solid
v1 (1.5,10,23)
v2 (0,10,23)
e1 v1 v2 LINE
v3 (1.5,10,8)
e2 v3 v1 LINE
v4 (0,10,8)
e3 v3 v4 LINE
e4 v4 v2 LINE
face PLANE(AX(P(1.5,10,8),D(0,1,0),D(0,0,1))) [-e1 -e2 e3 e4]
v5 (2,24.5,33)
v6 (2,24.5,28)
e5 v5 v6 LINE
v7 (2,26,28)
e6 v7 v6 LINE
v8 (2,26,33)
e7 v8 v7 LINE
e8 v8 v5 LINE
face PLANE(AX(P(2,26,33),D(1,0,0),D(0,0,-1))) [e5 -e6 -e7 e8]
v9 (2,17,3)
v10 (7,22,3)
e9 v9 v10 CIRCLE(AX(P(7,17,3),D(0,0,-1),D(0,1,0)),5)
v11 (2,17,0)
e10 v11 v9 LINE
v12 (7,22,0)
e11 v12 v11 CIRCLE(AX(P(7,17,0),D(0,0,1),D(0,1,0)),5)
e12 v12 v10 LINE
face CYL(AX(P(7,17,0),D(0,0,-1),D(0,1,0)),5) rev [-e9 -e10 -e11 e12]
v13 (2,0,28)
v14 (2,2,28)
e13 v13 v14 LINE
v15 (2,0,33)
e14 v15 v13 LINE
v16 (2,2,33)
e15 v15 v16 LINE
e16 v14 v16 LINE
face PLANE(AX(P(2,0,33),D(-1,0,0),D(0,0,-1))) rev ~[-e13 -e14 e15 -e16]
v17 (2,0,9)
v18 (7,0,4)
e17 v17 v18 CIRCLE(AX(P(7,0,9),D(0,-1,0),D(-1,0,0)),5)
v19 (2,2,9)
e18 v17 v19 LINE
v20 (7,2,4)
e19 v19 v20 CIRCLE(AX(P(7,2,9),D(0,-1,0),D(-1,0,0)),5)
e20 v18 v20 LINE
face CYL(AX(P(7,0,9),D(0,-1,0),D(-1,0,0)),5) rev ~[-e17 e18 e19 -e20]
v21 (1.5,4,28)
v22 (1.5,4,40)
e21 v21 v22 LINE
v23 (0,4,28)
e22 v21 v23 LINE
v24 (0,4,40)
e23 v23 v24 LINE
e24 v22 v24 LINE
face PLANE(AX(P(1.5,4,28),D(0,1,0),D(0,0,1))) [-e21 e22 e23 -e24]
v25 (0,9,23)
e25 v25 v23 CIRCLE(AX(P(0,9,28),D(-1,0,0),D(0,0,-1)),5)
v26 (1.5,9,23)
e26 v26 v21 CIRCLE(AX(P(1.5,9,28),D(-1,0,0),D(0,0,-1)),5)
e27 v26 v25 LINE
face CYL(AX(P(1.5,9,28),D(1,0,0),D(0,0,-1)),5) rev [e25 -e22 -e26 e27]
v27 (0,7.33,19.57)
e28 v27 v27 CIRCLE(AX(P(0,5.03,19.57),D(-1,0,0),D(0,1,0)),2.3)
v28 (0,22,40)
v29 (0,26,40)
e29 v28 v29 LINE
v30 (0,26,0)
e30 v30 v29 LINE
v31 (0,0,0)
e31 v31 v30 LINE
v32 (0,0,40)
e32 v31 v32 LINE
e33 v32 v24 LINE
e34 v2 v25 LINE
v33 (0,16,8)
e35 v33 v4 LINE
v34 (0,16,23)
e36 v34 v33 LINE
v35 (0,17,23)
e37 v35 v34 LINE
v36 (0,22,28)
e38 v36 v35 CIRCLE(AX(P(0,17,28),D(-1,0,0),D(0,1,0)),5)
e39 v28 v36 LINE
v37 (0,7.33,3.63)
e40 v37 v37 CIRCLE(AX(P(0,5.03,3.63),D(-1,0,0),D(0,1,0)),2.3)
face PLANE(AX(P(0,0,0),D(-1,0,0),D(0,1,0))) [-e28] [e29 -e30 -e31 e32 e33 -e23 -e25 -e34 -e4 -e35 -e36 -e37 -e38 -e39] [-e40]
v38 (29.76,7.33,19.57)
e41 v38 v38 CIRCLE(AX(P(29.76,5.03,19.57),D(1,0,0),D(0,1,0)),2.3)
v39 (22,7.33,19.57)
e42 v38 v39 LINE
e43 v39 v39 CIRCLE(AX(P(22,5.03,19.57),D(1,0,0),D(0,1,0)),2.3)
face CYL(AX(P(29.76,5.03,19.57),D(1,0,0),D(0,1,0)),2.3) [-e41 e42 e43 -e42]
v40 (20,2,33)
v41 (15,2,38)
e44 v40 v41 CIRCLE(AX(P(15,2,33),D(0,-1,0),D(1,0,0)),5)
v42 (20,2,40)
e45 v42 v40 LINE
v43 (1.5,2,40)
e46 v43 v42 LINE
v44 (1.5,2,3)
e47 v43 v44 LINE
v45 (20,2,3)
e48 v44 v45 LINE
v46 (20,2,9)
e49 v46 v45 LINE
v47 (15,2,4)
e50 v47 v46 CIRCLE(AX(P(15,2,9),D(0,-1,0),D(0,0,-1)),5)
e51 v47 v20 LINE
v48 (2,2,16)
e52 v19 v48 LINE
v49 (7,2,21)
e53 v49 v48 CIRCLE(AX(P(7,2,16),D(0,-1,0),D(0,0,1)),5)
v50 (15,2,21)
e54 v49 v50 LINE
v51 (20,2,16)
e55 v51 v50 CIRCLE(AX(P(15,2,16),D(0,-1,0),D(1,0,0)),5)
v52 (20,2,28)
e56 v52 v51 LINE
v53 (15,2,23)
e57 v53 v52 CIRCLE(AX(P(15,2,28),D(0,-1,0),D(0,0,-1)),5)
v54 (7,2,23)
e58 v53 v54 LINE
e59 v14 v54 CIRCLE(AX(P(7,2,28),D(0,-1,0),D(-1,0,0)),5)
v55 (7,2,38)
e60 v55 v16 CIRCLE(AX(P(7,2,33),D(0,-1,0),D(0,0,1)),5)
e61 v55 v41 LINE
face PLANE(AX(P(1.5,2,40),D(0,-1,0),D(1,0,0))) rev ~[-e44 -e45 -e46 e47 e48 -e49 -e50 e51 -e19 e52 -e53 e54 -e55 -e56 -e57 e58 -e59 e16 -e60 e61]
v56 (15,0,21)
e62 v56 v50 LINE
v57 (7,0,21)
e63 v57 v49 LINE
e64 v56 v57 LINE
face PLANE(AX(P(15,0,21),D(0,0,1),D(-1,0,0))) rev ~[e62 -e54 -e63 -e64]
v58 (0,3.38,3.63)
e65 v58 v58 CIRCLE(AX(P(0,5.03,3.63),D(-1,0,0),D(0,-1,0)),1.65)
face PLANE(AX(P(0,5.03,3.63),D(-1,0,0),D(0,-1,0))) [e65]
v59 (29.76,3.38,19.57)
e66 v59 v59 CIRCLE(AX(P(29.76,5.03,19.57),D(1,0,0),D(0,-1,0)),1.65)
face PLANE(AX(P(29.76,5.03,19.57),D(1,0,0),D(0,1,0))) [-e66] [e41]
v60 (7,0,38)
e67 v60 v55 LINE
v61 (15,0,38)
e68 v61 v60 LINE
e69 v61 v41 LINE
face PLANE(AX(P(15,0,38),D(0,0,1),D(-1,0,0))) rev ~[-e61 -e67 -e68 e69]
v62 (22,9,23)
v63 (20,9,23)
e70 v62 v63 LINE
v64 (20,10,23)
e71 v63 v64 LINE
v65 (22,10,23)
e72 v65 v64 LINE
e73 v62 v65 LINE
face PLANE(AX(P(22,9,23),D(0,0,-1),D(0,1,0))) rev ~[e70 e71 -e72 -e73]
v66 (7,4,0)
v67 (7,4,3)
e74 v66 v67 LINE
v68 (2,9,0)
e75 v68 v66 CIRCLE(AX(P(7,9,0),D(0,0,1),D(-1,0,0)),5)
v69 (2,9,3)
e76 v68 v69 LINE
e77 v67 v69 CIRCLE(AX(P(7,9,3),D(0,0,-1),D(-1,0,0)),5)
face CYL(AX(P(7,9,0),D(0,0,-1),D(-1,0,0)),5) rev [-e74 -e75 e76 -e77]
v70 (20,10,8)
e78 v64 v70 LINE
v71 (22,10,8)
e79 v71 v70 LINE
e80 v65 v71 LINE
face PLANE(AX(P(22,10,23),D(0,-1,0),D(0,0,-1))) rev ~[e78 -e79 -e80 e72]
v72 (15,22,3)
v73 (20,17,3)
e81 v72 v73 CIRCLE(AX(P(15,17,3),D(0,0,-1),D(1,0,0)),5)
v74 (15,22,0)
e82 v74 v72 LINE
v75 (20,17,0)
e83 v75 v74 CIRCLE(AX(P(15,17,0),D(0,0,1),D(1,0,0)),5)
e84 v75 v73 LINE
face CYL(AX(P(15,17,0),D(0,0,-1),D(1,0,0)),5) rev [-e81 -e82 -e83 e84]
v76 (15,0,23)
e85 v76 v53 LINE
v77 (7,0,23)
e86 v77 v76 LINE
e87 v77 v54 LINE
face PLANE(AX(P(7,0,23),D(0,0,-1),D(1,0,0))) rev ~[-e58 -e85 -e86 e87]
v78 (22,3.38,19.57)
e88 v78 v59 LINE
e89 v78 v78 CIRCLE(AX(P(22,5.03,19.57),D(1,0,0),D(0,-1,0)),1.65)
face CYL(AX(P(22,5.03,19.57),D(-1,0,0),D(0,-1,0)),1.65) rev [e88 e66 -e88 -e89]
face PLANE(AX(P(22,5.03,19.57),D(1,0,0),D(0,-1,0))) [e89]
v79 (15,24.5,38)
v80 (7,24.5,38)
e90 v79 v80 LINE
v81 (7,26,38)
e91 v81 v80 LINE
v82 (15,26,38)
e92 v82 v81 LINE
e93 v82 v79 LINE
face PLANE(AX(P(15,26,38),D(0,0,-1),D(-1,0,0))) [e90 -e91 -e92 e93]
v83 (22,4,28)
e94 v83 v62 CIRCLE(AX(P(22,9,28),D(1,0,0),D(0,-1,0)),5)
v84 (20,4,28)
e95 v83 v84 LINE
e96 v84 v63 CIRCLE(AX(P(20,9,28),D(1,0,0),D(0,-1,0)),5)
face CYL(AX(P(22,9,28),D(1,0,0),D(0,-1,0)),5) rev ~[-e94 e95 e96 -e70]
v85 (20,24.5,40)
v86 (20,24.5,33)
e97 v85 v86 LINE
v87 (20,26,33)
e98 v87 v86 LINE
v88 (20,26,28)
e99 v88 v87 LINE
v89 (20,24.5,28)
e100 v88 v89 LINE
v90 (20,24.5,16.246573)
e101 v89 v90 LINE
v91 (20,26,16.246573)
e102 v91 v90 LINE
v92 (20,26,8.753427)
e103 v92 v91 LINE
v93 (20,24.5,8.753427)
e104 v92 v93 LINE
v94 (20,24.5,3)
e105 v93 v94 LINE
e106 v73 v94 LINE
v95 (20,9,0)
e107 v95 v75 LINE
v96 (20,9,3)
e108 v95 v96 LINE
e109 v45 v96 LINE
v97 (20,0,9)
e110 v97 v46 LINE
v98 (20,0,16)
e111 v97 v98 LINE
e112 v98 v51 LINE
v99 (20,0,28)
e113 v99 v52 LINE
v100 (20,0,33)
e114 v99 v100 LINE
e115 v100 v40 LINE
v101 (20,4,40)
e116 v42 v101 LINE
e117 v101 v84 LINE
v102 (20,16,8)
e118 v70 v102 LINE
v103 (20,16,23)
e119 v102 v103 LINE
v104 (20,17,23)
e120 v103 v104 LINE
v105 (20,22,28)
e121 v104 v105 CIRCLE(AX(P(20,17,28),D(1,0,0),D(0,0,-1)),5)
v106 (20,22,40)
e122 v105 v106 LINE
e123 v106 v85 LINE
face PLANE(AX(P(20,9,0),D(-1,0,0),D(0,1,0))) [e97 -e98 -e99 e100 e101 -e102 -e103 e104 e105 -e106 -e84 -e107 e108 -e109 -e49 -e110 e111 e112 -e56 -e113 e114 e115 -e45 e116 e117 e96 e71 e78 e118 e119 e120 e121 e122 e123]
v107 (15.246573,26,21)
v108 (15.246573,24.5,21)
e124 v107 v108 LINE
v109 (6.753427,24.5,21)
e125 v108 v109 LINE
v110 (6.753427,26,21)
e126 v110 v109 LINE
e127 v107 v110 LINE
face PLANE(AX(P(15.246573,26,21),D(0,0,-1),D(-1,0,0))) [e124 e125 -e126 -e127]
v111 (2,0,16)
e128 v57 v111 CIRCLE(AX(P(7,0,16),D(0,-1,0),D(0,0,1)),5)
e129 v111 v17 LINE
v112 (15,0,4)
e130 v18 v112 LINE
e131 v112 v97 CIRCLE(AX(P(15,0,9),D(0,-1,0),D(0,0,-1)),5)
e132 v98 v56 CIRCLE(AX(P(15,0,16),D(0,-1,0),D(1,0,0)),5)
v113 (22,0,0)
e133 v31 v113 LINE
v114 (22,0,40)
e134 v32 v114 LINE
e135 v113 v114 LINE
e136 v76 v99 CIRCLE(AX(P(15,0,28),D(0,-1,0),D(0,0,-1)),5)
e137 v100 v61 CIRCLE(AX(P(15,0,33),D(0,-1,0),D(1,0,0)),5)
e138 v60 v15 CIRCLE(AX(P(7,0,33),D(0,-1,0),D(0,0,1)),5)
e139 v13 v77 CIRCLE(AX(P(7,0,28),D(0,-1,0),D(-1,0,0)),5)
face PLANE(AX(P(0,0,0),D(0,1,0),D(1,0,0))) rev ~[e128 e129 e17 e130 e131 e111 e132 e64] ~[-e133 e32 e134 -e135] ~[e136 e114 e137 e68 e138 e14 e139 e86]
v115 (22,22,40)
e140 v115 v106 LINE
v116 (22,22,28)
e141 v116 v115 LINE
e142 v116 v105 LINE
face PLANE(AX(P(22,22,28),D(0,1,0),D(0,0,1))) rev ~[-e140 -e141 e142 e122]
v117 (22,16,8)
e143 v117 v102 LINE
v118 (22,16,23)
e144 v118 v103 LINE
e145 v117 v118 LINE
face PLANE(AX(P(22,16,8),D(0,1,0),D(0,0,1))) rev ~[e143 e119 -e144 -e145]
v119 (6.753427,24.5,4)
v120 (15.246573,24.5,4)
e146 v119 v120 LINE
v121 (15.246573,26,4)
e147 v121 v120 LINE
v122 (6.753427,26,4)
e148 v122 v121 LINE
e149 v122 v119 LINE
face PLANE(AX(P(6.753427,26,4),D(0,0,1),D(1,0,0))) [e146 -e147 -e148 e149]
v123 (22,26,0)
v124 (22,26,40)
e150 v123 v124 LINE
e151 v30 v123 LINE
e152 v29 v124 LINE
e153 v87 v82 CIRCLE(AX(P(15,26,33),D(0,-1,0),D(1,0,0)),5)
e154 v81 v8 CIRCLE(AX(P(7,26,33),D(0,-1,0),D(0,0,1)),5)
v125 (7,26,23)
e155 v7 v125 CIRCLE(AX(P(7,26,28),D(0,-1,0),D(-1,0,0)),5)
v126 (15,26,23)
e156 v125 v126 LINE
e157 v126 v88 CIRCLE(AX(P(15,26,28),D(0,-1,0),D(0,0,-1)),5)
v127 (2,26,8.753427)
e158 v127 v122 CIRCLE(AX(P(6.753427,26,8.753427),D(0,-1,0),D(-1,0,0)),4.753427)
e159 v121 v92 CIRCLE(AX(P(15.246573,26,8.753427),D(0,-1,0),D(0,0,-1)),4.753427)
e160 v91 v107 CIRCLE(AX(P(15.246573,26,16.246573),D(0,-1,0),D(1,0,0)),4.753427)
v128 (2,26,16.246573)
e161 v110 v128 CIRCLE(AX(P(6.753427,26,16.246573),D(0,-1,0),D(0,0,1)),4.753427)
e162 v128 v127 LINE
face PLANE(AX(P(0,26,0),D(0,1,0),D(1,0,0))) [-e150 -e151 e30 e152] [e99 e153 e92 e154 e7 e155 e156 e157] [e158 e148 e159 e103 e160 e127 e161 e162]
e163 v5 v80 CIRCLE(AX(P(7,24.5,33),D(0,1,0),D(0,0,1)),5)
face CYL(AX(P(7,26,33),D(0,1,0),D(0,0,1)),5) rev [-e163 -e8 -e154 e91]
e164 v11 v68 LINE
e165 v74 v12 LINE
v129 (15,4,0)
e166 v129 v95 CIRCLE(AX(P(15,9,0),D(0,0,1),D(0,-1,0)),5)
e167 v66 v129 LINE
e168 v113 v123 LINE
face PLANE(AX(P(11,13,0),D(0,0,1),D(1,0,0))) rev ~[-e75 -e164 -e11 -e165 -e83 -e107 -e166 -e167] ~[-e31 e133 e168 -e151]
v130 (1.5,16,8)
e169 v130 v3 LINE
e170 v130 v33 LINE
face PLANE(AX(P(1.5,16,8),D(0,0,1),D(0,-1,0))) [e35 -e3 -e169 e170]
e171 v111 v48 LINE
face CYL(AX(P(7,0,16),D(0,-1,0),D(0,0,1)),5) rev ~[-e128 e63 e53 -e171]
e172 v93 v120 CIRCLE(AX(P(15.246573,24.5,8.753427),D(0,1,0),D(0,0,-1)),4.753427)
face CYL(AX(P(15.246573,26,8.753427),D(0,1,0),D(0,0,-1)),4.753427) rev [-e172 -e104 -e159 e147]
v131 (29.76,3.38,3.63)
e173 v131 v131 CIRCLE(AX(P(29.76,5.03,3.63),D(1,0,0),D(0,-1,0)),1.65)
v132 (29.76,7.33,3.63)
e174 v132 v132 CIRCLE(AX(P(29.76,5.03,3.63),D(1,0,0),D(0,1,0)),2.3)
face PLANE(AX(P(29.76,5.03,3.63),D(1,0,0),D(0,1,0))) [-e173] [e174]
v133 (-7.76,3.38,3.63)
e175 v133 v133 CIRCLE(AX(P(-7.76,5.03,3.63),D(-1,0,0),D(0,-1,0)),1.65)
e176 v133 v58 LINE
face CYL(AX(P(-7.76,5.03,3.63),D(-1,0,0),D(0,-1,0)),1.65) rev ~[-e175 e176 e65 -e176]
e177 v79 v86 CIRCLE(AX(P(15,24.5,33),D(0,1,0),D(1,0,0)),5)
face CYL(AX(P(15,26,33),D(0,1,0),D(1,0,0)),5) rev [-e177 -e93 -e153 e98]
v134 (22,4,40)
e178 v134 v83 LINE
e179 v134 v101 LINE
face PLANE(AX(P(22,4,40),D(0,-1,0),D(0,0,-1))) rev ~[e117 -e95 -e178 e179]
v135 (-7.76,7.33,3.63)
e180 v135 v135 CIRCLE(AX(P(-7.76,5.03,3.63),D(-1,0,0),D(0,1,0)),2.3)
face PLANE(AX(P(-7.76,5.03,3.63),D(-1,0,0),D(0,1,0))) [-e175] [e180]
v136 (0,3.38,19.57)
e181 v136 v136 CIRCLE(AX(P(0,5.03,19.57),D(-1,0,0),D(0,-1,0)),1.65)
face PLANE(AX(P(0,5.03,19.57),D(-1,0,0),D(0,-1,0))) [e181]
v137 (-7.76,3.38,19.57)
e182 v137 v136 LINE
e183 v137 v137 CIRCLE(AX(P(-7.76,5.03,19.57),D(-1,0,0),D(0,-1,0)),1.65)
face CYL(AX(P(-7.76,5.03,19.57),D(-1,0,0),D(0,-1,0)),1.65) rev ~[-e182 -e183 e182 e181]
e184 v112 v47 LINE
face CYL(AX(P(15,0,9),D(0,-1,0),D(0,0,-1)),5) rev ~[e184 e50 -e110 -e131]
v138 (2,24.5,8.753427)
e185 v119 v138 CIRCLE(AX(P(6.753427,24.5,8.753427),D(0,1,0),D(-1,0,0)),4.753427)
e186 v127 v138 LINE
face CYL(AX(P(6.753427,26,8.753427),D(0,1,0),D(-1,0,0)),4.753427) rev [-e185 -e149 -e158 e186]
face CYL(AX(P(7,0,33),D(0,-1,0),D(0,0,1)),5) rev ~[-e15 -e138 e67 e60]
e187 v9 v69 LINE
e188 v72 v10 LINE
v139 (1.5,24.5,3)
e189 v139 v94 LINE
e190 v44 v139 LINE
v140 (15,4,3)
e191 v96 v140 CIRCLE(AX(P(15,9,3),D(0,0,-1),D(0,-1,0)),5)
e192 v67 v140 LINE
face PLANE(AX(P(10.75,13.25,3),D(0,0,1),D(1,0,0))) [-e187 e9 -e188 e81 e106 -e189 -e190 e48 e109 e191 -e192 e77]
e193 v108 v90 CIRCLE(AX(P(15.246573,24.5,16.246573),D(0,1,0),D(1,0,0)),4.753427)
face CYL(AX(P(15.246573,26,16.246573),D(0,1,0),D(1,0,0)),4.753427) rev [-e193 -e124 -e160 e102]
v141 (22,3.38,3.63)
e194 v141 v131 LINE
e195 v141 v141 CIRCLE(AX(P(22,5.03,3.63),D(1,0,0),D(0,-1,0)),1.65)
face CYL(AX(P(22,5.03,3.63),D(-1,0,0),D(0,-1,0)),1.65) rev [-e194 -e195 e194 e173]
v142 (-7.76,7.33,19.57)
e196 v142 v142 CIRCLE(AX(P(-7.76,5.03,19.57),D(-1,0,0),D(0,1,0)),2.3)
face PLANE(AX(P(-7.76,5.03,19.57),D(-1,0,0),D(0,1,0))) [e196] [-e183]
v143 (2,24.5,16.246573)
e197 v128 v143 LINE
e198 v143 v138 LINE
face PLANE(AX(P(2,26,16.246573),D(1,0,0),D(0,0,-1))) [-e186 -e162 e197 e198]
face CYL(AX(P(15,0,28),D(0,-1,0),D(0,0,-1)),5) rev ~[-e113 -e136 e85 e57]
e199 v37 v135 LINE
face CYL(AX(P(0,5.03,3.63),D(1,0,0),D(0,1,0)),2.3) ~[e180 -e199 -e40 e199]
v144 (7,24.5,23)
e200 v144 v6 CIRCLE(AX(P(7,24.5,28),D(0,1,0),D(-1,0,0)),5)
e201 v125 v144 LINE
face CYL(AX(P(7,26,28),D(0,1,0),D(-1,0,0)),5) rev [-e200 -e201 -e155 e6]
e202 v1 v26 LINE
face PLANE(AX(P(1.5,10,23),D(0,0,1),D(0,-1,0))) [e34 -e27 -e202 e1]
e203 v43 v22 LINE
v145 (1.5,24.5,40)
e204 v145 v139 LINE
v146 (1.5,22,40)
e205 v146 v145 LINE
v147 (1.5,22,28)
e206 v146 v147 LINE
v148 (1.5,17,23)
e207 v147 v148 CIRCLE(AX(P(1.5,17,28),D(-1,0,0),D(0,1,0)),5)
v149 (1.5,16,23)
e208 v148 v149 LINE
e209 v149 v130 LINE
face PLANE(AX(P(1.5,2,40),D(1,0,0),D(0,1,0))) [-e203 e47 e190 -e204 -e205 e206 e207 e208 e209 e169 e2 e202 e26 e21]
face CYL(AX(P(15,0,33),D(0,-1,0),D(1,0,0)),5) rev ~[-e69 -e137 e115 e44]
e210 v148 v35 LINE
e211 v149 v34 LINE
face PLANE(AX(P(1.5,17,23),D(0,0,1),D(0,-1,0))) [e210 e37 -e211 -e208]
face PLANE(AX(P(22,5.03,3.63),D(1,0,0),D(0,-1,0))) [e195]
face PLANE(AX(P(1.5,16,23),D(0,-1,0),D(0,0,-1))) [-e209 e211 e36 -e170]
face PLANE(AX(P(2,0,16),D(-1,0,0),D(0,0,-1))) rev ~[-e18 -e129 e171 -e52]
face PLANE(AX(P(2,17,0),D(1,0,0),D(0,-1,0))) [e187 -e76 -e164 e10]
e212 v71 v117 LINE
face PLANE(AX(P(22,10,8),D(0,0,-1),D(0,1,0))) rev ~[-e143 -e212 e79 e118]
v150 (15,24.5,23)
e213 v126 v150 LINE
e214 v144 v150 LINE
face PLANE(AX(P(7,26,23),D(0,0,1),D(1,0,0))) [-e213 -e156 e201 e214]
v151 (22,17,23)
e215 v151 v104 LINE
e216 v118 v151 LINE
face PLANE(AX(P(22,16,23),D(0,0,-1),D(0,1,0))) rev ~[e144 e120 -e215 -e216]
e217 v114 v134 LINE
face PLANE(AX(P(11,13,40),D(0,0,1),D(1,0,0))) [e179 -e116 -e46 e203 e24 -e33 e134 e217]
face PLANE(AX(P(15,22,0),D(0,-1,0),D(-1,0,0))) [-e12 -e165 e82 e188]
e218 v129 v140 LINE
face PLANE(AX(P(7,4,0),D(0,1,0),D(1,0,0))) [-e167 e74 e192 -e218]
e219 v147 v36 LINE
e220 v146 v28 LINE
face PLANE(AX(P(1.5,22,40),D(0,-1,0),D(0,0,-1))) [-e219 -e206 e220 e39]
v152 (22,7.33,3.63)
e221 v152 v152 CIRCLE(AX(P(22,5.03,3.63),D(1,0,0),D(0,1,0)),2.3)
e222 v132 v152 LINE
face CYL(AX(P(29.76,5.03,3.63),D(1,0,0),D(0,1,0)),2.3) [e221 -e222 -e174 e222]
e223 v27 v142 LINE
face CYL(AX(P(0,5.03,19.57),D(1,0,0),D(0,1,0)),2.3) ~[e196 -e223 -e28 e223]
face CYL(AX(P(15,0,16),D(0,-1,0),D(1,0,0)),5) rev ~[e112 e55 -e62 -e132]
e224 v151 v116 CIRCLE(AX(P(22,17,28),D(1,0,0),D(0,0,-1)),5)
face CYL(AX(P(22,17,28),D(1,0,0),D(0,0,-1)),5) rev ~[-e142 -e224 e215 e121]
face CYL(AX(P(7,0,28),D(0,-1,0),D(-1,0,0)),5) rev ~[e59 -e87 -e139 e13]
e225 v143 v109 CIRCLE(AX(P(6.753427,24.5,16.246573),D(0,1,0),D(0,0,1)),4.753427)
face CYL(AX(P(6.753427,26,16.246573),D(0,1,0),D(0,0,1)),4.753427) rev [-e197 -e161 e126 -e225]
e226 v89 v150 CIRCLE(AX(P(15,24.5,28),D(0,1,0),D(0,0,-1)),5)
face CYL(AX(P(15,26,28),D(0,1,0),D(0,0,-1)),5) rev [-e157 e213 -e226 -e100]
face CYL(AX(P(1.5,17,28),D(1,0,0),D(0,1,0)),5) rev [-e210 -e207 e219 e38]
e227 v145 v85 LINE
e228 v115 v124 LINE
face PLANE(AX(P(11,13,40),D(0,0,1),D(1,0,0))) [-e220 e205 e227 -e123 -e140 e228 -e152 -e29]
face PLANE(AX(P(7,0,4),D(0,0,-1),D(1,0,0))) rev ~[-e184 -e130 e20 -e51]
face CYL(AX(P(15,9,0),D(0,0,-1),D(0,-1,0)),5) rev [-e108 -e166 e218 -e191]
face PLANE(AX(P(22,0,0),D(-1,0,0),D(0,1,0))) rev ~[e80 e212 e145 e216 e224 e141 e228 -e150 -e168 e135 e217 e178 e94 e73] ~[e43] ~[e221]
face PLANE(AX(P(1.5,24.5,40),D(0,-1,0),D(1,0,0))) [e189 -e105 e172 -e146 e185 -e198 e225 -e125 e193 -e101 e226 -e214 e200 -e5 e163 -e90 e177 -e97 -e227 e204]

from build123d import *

# Parameters (mm, degrees)
SKETCH1_W           = 22
SKETCH1_H           = 26
BOSS_EXTRUDE1_DEPTH = 40
SKETCH2_W           = 18.5
SKETCH2_H           = 22.5
CUT_EXTRUDE1_DEPTH  = 37
CUT_EXTRUDE2_REACH  = 54.536
CUT_EXTRUDE3_DEPTH  = 2
CUT_EXTRUDE4_START  = -1.5
CUT_EXTRUDE4_DEPTH  = 1.5
CUT_EXTRUDE5_REACH  = 54.536
CUT_EXTRUDE6_REACH  = 54.536
SKETCH12_R          = 2.3
BOSS_EXTRUDE2_DEPTH = 7.76
SKETCH14_R          = 1.65
CUT_EXTRUDE9_DEPTH  = 7.76
SKETCH16_R          = 1.65
CUT_EXTRUDE11_DEPTH = 7.76
BOSS_EXTRUDE3_START = 7.76
SKETCH17_R          = 2.3
BOSS_EXTRUDE3_DEPTH = 7.76
CUT_EXTRUDE12_START = -7.76
SKETCH20_R          = 1.65
CUT_EXTRUDE12_DEPTH = 7.76


with BuildPart() as part:
    # Sketch1 → Boss-Extrude1 (new body)
    with BuildSketch(Plane.XY):
        with Locations((11, 13)):
            Rectangle(SKETCH1_W, SKETCH1_H)
    extrude(amount=BOSS_EXTRUDE1_DEPTH)

    # Sketch2 → Cut-Extrude1 (cut)
    with BuildSketch(Plane.XY.offset(40)):
        with Locations((10.75, 13.25)):
            Rectangle(SKETCH2_W, SKETCH2_H)
    extrude(amount=-CUT_EXTRUDE1_DEPTH, mode=Mode.SUBTRACT)

    # Sketch6 → Cut-Extrude2 (cut, up to next)
    with BuildSketch(Plane(origin=(0, 0, 0), x_dir=(-1, 0, 0), z_dir=(0, 0, -1)), mode=Mode.PRIVATE) as cut_extrude2_sk1:
        with BuildLine():
            Line((-15, 22), (-7, 22))
            ThreePointArc((-7, 22), (-3.464466094, 20.535533906), (-2, 17))
            Line((-2, 17), (-2, 9))
            ThreePointArc((-2, 9), (-3.464466094, 5.464466094), (-7, 4))
            Line((-7, 4), (-15, 4))
            ThreePointArc((-15, 4), (-18.535533906, 5.464466094), (-20, 9))
            Line((-20, 9), (-20, 17))
            ThreePointArc((-20, 17), (-18.535533906, 20.535533906), (-15, 22))
        make_face()
    cut_extrude2_tool1 = extrude(cut_extrude2_sk1.sketch, amount=-CUT_EXTRUDE2_REACH, mode=Mode.PRIVATE) & part.part
    add(cut_extrude2_tool1.solids().sort_by_distance((11, 13, 0))[0], mode=Mode.SUBTRACT)

    # Sketch7 → Cut-Extrude3 (cut)
    with BuildSketch(Plane(origin=(22, 0, 0), x_dir=(0, 0, -1), z_dir=(1, 0, 0))):
        with BuildLine():
            Line((-8, 16), (-23, 16))
            Line((-23, 16), (-23, 17))
            ThreePointArc((-23, 17), (-24.464466094, 20.535533906), (-28, 22))
            Line((-28, 22), (-40, 22))
            Line((-40, 22), (-40, 16))
            Line((-40, 16), (-40, 10))
            Line((-40, 10), (-40, 4))
            Line((-40, 4), (-28, 4))
            ThreePointArc((-28, 4), (-24.464466094, 5.464466094), (-23, 9))
            Line((-23, 9), (-23, 10))
            Line((-23, 10), (-8, 10))
            Line((-8, 10), (-8, 16))
        make_face()
    extrude(amount=-CUT_EXTRUDE3_DEPTH, mode=Mode.SUBTRACT)

    # Sketch8 → Cut-Extrude4 (cut)
    with BuildSketch(Plane.ZY.offset(CUT_EXTRUDE4_START)):
        with BuildLine():
            Line((23, 17), (23, 16))
            Line((23, 16), (8, 16))
            Line((8, 16), (8, 10))
            Line((8, 10), (23, 10))
            Line((23, 10), (23, 9))
            ThreePointArc((23, 9), (24.464466094, 5.464466094), (28, 4))
            Line((28, 4), (40, 4))
            Line((40, 4), (40, 22))
            Line((40, 22), (28, 22))
            ThreePointArc((28, 22), (24.464466094, 20.535533906), (23, 17))
        make_face()
    extrude(amount=CUT_EXTRUDE4_DEPTH, mode=Mode.SUBTRACT)

    # Sketch9 → Cut-Extrude5 (cut, up to next)
    with BuildSketch(Plane(origin=(0, 26, 0), x_dir=(1, 0, 0), z_dir=(0, 1, 0)), mode=Mode.PRIVATE) as cut_extrude5_sk1:
        with BuildLine():
            Line((7, -23), (15, -23))
            ThreePointArc((15, -23), (18.535533906, -24.464466094), (20, -28))
            Line((20, -28), (20, -33))
            ThreePointArc((20, -33), (18.535533906, -36.535533906), (15, -38))
            Line((15, -38), (7, -38))
            ThreePointArc((7, -38), (3.464466094, -36.535533906), (2, -33))
            Line((2, -33), (2, -28))
            ThreePointArc((2, -28), (3.464466094, -24.464466094), (7, -23))
        make_face()
    cut_extrude5_tool1 = extrude(cut_extrude5_sk1.sketch, amount=-CUT_EXTRUDE5_REACH, mode=Mode.PRIVATE) & part.part
    # Sketch9 → Cut-Extrude5 (cut, up to next)
    with BuildSketch(Plane(origin=(0, 26, 0), x_dir=(1, 0, 0), z_dir=(0, 1, 0)), mode=Mode.PRIVATE) as cut_extrude5_sk2:
        with BuildLine():
            Line((2, -16.246572976), (2, -8.753427024))
            ThreePointArc((2, -8.753427024), (3.392246541, -5.392246541), (6.753427024, -4))
            Line((6.753427024, -4), (15.246572976, -4))
            ThreePointArc((15.246572976, -4), (18.607753459, -5.392246541), (20, -8.753427024))
            Line((20, -8.753427024), (20, -16.246572976))
            ThreePointArc((20, -16.246572976), (18.607753459, -19.607753459), (15.246572976, -21))
            Line((15.246572976, -21), (6.753427024, -21))
            ThreePointArc((6.753427024, -21), (3.392246541, -19.607753459), (2, -16.246572976))
        make_face()
    cut_extrude5_tool2 = extrude(cut_extrude5_sk2.sketch, amount=-CUT_EXTRUDE5_REACH, mode=Mode.PRIVATE) & part.part
    add(cut_extrude5_tool1.solids().sort_by_distance((11, 26, 30.5))[0], mode=Mode.SUBTRACT)
    add(cut_extrude5_tool2.solids().sort_by_distance((11, 26, 12.5))[0], mode=Mode.SUBTRACT)

    # Sketch11 → Cut-Extrude6 (cut, up to next)
    with BuildSketch(Plane.XZ, mode=Mode.PRIVATE) as cut_extrude6_sk1:
        with BuildLine():
            Line((7, 23), (15, 23))
            ThreePointArc((15, 23), (18.535533906, 24.464466094), (20, 28))
            Line((20, 28), (20, 33))
            ThreePointArc((20, 33), (18.535533906, 36.535533906), (15, 38))
            Line((15, 38), (7, 38))
            ThreePointArc((7, 38), (3.464466094, 36.535533906), (2, 33))
            Line((2, 33), (2, 28))
            ThreePointArc((2, 28), (3.464466094, 24.464466094), (7, 23))
        make_face()
    cut_extrude6_tool1 = extrude(cut_extrude6_sk1.sketch, amount=-CUT_EXTRUDE6_REACH, mode=Mode.PRIVATE) & part.part
    # Sketch11 → Cut-Extrude6 (cut, up to next)
    with BuildSketch(Plane.XZ, mode=Mode.PRIVATE) as cut_extrude6_sk2:
        with BuildLine():
            Line((2, 16), (2, 9))
            ThreePointArc((2, 9), (3.464466094, 5.464466094), (7, 4))
            Line((7, 4), (15, 4))
            ThreePointArc((15, 4), (18.535533906, 5.464466094), (20, 9))
            Line((20, 9), (20, 16))
            ThreePointArc((20, 16), (18.535533906, 19.535533906), (15, 21))
            Line((15, 21), (7, 21))
            ThreePointArc((7, 21), (3.464466094, 19.535533906), (2, 16))
        make_face()
    cut_extrude6_tool2 = extrude(cut_extrude6_sk2.sketch, amount=-CUT_EXTRUDE6_REACH, mode=Mode.PRIVATE) & part.part
    add(cut_extrude6_tool1.solids().sort_by_distance((11, 0, 30.5))[0], mode=Mode.SUBTRACT)
    add(cut_extrude6_tool2.solids().sort_by_distance((11, 0, 12.5))[0], mode=Mode.SUBTRACT)

    # Sketch12 → Boss-Extrude2 (add)
    with BuildSketch(Plane.ZY):
        with Locations(Location((3.63, 5.03, 0), (0, 0, 90))):
            Circle(SKETCH12_R)
        with Locations(Location((19.57, 5.03, 0), (0, 0, 90))):
            Circle(SKETCH12_R)
    extrude(amount=BOSS_EXTRUDE2_DEPTH)

    # Sketch14 → Cut-Extrude9 (cut)
    with BuildSketch(Plane.ZY.offset(7.76)):
        with Locations(Location((3.63, 5.03, 0), (0, 0, 270))):
            Circle(SKETCH14_R)
    extrude(amount=-CUT_EXTRUDE9_DEPTH, mode=Mode.SUBTRACT)

    # Sketch16 → Cut-Extrude11 (cut)
    with BuildSketch(Plane.ZY.offset(7.76)):
        with Locations(Location((19.57, 5.03, 0), (0, 0, 270))):
            Circle(SKETCH16_R)
    extrude(amount=-CUT_EXTRUDE11_DEPTH, mode=Mode.SUBTRACT)

    # Sketch17 → Boss-Extrude3 (add)
    with BuildSketch(Plane(origin=(22, 0, 0), x_dir=(0, 0, -1), z_dir=(1, 0, 0)).offset(BOSS_EXTRUDE3_START)):
        with Locations(Location((-3.63, 5.03, 0), (0, 0, 90))):
            Circle(SKETCH17_R)
        with Locations(Location((-19.57, 5.03, 0), (0, 0, 90))):
            Circle(SKETCH17_R)
    extrude(amount=-BOSS_EXTRUDE3_DEPTH)

    # Sketch20 → Cut-Extrude12 (cut)
    with BuildSketch(Plane(origin=(29.76, 0, 0), x_dir=(0, 0, -1), z_dir=(1, 0, 0)).offset(CUT_EXTRUDE12_START)):
        with Locations(Location((-3.63, 5.03, 0), (0, 0, 270))):
            Circle(SKETCH20_R)
        with Locations(Location((-19.57, 5.03, 0), (0, 0, 270))):
            Circle(SKETCH20_R)
    extrude(amount=CUT_EXTRUDE12_DEPTH, mode=Mode.SUBTRACT)


solid = part.part
